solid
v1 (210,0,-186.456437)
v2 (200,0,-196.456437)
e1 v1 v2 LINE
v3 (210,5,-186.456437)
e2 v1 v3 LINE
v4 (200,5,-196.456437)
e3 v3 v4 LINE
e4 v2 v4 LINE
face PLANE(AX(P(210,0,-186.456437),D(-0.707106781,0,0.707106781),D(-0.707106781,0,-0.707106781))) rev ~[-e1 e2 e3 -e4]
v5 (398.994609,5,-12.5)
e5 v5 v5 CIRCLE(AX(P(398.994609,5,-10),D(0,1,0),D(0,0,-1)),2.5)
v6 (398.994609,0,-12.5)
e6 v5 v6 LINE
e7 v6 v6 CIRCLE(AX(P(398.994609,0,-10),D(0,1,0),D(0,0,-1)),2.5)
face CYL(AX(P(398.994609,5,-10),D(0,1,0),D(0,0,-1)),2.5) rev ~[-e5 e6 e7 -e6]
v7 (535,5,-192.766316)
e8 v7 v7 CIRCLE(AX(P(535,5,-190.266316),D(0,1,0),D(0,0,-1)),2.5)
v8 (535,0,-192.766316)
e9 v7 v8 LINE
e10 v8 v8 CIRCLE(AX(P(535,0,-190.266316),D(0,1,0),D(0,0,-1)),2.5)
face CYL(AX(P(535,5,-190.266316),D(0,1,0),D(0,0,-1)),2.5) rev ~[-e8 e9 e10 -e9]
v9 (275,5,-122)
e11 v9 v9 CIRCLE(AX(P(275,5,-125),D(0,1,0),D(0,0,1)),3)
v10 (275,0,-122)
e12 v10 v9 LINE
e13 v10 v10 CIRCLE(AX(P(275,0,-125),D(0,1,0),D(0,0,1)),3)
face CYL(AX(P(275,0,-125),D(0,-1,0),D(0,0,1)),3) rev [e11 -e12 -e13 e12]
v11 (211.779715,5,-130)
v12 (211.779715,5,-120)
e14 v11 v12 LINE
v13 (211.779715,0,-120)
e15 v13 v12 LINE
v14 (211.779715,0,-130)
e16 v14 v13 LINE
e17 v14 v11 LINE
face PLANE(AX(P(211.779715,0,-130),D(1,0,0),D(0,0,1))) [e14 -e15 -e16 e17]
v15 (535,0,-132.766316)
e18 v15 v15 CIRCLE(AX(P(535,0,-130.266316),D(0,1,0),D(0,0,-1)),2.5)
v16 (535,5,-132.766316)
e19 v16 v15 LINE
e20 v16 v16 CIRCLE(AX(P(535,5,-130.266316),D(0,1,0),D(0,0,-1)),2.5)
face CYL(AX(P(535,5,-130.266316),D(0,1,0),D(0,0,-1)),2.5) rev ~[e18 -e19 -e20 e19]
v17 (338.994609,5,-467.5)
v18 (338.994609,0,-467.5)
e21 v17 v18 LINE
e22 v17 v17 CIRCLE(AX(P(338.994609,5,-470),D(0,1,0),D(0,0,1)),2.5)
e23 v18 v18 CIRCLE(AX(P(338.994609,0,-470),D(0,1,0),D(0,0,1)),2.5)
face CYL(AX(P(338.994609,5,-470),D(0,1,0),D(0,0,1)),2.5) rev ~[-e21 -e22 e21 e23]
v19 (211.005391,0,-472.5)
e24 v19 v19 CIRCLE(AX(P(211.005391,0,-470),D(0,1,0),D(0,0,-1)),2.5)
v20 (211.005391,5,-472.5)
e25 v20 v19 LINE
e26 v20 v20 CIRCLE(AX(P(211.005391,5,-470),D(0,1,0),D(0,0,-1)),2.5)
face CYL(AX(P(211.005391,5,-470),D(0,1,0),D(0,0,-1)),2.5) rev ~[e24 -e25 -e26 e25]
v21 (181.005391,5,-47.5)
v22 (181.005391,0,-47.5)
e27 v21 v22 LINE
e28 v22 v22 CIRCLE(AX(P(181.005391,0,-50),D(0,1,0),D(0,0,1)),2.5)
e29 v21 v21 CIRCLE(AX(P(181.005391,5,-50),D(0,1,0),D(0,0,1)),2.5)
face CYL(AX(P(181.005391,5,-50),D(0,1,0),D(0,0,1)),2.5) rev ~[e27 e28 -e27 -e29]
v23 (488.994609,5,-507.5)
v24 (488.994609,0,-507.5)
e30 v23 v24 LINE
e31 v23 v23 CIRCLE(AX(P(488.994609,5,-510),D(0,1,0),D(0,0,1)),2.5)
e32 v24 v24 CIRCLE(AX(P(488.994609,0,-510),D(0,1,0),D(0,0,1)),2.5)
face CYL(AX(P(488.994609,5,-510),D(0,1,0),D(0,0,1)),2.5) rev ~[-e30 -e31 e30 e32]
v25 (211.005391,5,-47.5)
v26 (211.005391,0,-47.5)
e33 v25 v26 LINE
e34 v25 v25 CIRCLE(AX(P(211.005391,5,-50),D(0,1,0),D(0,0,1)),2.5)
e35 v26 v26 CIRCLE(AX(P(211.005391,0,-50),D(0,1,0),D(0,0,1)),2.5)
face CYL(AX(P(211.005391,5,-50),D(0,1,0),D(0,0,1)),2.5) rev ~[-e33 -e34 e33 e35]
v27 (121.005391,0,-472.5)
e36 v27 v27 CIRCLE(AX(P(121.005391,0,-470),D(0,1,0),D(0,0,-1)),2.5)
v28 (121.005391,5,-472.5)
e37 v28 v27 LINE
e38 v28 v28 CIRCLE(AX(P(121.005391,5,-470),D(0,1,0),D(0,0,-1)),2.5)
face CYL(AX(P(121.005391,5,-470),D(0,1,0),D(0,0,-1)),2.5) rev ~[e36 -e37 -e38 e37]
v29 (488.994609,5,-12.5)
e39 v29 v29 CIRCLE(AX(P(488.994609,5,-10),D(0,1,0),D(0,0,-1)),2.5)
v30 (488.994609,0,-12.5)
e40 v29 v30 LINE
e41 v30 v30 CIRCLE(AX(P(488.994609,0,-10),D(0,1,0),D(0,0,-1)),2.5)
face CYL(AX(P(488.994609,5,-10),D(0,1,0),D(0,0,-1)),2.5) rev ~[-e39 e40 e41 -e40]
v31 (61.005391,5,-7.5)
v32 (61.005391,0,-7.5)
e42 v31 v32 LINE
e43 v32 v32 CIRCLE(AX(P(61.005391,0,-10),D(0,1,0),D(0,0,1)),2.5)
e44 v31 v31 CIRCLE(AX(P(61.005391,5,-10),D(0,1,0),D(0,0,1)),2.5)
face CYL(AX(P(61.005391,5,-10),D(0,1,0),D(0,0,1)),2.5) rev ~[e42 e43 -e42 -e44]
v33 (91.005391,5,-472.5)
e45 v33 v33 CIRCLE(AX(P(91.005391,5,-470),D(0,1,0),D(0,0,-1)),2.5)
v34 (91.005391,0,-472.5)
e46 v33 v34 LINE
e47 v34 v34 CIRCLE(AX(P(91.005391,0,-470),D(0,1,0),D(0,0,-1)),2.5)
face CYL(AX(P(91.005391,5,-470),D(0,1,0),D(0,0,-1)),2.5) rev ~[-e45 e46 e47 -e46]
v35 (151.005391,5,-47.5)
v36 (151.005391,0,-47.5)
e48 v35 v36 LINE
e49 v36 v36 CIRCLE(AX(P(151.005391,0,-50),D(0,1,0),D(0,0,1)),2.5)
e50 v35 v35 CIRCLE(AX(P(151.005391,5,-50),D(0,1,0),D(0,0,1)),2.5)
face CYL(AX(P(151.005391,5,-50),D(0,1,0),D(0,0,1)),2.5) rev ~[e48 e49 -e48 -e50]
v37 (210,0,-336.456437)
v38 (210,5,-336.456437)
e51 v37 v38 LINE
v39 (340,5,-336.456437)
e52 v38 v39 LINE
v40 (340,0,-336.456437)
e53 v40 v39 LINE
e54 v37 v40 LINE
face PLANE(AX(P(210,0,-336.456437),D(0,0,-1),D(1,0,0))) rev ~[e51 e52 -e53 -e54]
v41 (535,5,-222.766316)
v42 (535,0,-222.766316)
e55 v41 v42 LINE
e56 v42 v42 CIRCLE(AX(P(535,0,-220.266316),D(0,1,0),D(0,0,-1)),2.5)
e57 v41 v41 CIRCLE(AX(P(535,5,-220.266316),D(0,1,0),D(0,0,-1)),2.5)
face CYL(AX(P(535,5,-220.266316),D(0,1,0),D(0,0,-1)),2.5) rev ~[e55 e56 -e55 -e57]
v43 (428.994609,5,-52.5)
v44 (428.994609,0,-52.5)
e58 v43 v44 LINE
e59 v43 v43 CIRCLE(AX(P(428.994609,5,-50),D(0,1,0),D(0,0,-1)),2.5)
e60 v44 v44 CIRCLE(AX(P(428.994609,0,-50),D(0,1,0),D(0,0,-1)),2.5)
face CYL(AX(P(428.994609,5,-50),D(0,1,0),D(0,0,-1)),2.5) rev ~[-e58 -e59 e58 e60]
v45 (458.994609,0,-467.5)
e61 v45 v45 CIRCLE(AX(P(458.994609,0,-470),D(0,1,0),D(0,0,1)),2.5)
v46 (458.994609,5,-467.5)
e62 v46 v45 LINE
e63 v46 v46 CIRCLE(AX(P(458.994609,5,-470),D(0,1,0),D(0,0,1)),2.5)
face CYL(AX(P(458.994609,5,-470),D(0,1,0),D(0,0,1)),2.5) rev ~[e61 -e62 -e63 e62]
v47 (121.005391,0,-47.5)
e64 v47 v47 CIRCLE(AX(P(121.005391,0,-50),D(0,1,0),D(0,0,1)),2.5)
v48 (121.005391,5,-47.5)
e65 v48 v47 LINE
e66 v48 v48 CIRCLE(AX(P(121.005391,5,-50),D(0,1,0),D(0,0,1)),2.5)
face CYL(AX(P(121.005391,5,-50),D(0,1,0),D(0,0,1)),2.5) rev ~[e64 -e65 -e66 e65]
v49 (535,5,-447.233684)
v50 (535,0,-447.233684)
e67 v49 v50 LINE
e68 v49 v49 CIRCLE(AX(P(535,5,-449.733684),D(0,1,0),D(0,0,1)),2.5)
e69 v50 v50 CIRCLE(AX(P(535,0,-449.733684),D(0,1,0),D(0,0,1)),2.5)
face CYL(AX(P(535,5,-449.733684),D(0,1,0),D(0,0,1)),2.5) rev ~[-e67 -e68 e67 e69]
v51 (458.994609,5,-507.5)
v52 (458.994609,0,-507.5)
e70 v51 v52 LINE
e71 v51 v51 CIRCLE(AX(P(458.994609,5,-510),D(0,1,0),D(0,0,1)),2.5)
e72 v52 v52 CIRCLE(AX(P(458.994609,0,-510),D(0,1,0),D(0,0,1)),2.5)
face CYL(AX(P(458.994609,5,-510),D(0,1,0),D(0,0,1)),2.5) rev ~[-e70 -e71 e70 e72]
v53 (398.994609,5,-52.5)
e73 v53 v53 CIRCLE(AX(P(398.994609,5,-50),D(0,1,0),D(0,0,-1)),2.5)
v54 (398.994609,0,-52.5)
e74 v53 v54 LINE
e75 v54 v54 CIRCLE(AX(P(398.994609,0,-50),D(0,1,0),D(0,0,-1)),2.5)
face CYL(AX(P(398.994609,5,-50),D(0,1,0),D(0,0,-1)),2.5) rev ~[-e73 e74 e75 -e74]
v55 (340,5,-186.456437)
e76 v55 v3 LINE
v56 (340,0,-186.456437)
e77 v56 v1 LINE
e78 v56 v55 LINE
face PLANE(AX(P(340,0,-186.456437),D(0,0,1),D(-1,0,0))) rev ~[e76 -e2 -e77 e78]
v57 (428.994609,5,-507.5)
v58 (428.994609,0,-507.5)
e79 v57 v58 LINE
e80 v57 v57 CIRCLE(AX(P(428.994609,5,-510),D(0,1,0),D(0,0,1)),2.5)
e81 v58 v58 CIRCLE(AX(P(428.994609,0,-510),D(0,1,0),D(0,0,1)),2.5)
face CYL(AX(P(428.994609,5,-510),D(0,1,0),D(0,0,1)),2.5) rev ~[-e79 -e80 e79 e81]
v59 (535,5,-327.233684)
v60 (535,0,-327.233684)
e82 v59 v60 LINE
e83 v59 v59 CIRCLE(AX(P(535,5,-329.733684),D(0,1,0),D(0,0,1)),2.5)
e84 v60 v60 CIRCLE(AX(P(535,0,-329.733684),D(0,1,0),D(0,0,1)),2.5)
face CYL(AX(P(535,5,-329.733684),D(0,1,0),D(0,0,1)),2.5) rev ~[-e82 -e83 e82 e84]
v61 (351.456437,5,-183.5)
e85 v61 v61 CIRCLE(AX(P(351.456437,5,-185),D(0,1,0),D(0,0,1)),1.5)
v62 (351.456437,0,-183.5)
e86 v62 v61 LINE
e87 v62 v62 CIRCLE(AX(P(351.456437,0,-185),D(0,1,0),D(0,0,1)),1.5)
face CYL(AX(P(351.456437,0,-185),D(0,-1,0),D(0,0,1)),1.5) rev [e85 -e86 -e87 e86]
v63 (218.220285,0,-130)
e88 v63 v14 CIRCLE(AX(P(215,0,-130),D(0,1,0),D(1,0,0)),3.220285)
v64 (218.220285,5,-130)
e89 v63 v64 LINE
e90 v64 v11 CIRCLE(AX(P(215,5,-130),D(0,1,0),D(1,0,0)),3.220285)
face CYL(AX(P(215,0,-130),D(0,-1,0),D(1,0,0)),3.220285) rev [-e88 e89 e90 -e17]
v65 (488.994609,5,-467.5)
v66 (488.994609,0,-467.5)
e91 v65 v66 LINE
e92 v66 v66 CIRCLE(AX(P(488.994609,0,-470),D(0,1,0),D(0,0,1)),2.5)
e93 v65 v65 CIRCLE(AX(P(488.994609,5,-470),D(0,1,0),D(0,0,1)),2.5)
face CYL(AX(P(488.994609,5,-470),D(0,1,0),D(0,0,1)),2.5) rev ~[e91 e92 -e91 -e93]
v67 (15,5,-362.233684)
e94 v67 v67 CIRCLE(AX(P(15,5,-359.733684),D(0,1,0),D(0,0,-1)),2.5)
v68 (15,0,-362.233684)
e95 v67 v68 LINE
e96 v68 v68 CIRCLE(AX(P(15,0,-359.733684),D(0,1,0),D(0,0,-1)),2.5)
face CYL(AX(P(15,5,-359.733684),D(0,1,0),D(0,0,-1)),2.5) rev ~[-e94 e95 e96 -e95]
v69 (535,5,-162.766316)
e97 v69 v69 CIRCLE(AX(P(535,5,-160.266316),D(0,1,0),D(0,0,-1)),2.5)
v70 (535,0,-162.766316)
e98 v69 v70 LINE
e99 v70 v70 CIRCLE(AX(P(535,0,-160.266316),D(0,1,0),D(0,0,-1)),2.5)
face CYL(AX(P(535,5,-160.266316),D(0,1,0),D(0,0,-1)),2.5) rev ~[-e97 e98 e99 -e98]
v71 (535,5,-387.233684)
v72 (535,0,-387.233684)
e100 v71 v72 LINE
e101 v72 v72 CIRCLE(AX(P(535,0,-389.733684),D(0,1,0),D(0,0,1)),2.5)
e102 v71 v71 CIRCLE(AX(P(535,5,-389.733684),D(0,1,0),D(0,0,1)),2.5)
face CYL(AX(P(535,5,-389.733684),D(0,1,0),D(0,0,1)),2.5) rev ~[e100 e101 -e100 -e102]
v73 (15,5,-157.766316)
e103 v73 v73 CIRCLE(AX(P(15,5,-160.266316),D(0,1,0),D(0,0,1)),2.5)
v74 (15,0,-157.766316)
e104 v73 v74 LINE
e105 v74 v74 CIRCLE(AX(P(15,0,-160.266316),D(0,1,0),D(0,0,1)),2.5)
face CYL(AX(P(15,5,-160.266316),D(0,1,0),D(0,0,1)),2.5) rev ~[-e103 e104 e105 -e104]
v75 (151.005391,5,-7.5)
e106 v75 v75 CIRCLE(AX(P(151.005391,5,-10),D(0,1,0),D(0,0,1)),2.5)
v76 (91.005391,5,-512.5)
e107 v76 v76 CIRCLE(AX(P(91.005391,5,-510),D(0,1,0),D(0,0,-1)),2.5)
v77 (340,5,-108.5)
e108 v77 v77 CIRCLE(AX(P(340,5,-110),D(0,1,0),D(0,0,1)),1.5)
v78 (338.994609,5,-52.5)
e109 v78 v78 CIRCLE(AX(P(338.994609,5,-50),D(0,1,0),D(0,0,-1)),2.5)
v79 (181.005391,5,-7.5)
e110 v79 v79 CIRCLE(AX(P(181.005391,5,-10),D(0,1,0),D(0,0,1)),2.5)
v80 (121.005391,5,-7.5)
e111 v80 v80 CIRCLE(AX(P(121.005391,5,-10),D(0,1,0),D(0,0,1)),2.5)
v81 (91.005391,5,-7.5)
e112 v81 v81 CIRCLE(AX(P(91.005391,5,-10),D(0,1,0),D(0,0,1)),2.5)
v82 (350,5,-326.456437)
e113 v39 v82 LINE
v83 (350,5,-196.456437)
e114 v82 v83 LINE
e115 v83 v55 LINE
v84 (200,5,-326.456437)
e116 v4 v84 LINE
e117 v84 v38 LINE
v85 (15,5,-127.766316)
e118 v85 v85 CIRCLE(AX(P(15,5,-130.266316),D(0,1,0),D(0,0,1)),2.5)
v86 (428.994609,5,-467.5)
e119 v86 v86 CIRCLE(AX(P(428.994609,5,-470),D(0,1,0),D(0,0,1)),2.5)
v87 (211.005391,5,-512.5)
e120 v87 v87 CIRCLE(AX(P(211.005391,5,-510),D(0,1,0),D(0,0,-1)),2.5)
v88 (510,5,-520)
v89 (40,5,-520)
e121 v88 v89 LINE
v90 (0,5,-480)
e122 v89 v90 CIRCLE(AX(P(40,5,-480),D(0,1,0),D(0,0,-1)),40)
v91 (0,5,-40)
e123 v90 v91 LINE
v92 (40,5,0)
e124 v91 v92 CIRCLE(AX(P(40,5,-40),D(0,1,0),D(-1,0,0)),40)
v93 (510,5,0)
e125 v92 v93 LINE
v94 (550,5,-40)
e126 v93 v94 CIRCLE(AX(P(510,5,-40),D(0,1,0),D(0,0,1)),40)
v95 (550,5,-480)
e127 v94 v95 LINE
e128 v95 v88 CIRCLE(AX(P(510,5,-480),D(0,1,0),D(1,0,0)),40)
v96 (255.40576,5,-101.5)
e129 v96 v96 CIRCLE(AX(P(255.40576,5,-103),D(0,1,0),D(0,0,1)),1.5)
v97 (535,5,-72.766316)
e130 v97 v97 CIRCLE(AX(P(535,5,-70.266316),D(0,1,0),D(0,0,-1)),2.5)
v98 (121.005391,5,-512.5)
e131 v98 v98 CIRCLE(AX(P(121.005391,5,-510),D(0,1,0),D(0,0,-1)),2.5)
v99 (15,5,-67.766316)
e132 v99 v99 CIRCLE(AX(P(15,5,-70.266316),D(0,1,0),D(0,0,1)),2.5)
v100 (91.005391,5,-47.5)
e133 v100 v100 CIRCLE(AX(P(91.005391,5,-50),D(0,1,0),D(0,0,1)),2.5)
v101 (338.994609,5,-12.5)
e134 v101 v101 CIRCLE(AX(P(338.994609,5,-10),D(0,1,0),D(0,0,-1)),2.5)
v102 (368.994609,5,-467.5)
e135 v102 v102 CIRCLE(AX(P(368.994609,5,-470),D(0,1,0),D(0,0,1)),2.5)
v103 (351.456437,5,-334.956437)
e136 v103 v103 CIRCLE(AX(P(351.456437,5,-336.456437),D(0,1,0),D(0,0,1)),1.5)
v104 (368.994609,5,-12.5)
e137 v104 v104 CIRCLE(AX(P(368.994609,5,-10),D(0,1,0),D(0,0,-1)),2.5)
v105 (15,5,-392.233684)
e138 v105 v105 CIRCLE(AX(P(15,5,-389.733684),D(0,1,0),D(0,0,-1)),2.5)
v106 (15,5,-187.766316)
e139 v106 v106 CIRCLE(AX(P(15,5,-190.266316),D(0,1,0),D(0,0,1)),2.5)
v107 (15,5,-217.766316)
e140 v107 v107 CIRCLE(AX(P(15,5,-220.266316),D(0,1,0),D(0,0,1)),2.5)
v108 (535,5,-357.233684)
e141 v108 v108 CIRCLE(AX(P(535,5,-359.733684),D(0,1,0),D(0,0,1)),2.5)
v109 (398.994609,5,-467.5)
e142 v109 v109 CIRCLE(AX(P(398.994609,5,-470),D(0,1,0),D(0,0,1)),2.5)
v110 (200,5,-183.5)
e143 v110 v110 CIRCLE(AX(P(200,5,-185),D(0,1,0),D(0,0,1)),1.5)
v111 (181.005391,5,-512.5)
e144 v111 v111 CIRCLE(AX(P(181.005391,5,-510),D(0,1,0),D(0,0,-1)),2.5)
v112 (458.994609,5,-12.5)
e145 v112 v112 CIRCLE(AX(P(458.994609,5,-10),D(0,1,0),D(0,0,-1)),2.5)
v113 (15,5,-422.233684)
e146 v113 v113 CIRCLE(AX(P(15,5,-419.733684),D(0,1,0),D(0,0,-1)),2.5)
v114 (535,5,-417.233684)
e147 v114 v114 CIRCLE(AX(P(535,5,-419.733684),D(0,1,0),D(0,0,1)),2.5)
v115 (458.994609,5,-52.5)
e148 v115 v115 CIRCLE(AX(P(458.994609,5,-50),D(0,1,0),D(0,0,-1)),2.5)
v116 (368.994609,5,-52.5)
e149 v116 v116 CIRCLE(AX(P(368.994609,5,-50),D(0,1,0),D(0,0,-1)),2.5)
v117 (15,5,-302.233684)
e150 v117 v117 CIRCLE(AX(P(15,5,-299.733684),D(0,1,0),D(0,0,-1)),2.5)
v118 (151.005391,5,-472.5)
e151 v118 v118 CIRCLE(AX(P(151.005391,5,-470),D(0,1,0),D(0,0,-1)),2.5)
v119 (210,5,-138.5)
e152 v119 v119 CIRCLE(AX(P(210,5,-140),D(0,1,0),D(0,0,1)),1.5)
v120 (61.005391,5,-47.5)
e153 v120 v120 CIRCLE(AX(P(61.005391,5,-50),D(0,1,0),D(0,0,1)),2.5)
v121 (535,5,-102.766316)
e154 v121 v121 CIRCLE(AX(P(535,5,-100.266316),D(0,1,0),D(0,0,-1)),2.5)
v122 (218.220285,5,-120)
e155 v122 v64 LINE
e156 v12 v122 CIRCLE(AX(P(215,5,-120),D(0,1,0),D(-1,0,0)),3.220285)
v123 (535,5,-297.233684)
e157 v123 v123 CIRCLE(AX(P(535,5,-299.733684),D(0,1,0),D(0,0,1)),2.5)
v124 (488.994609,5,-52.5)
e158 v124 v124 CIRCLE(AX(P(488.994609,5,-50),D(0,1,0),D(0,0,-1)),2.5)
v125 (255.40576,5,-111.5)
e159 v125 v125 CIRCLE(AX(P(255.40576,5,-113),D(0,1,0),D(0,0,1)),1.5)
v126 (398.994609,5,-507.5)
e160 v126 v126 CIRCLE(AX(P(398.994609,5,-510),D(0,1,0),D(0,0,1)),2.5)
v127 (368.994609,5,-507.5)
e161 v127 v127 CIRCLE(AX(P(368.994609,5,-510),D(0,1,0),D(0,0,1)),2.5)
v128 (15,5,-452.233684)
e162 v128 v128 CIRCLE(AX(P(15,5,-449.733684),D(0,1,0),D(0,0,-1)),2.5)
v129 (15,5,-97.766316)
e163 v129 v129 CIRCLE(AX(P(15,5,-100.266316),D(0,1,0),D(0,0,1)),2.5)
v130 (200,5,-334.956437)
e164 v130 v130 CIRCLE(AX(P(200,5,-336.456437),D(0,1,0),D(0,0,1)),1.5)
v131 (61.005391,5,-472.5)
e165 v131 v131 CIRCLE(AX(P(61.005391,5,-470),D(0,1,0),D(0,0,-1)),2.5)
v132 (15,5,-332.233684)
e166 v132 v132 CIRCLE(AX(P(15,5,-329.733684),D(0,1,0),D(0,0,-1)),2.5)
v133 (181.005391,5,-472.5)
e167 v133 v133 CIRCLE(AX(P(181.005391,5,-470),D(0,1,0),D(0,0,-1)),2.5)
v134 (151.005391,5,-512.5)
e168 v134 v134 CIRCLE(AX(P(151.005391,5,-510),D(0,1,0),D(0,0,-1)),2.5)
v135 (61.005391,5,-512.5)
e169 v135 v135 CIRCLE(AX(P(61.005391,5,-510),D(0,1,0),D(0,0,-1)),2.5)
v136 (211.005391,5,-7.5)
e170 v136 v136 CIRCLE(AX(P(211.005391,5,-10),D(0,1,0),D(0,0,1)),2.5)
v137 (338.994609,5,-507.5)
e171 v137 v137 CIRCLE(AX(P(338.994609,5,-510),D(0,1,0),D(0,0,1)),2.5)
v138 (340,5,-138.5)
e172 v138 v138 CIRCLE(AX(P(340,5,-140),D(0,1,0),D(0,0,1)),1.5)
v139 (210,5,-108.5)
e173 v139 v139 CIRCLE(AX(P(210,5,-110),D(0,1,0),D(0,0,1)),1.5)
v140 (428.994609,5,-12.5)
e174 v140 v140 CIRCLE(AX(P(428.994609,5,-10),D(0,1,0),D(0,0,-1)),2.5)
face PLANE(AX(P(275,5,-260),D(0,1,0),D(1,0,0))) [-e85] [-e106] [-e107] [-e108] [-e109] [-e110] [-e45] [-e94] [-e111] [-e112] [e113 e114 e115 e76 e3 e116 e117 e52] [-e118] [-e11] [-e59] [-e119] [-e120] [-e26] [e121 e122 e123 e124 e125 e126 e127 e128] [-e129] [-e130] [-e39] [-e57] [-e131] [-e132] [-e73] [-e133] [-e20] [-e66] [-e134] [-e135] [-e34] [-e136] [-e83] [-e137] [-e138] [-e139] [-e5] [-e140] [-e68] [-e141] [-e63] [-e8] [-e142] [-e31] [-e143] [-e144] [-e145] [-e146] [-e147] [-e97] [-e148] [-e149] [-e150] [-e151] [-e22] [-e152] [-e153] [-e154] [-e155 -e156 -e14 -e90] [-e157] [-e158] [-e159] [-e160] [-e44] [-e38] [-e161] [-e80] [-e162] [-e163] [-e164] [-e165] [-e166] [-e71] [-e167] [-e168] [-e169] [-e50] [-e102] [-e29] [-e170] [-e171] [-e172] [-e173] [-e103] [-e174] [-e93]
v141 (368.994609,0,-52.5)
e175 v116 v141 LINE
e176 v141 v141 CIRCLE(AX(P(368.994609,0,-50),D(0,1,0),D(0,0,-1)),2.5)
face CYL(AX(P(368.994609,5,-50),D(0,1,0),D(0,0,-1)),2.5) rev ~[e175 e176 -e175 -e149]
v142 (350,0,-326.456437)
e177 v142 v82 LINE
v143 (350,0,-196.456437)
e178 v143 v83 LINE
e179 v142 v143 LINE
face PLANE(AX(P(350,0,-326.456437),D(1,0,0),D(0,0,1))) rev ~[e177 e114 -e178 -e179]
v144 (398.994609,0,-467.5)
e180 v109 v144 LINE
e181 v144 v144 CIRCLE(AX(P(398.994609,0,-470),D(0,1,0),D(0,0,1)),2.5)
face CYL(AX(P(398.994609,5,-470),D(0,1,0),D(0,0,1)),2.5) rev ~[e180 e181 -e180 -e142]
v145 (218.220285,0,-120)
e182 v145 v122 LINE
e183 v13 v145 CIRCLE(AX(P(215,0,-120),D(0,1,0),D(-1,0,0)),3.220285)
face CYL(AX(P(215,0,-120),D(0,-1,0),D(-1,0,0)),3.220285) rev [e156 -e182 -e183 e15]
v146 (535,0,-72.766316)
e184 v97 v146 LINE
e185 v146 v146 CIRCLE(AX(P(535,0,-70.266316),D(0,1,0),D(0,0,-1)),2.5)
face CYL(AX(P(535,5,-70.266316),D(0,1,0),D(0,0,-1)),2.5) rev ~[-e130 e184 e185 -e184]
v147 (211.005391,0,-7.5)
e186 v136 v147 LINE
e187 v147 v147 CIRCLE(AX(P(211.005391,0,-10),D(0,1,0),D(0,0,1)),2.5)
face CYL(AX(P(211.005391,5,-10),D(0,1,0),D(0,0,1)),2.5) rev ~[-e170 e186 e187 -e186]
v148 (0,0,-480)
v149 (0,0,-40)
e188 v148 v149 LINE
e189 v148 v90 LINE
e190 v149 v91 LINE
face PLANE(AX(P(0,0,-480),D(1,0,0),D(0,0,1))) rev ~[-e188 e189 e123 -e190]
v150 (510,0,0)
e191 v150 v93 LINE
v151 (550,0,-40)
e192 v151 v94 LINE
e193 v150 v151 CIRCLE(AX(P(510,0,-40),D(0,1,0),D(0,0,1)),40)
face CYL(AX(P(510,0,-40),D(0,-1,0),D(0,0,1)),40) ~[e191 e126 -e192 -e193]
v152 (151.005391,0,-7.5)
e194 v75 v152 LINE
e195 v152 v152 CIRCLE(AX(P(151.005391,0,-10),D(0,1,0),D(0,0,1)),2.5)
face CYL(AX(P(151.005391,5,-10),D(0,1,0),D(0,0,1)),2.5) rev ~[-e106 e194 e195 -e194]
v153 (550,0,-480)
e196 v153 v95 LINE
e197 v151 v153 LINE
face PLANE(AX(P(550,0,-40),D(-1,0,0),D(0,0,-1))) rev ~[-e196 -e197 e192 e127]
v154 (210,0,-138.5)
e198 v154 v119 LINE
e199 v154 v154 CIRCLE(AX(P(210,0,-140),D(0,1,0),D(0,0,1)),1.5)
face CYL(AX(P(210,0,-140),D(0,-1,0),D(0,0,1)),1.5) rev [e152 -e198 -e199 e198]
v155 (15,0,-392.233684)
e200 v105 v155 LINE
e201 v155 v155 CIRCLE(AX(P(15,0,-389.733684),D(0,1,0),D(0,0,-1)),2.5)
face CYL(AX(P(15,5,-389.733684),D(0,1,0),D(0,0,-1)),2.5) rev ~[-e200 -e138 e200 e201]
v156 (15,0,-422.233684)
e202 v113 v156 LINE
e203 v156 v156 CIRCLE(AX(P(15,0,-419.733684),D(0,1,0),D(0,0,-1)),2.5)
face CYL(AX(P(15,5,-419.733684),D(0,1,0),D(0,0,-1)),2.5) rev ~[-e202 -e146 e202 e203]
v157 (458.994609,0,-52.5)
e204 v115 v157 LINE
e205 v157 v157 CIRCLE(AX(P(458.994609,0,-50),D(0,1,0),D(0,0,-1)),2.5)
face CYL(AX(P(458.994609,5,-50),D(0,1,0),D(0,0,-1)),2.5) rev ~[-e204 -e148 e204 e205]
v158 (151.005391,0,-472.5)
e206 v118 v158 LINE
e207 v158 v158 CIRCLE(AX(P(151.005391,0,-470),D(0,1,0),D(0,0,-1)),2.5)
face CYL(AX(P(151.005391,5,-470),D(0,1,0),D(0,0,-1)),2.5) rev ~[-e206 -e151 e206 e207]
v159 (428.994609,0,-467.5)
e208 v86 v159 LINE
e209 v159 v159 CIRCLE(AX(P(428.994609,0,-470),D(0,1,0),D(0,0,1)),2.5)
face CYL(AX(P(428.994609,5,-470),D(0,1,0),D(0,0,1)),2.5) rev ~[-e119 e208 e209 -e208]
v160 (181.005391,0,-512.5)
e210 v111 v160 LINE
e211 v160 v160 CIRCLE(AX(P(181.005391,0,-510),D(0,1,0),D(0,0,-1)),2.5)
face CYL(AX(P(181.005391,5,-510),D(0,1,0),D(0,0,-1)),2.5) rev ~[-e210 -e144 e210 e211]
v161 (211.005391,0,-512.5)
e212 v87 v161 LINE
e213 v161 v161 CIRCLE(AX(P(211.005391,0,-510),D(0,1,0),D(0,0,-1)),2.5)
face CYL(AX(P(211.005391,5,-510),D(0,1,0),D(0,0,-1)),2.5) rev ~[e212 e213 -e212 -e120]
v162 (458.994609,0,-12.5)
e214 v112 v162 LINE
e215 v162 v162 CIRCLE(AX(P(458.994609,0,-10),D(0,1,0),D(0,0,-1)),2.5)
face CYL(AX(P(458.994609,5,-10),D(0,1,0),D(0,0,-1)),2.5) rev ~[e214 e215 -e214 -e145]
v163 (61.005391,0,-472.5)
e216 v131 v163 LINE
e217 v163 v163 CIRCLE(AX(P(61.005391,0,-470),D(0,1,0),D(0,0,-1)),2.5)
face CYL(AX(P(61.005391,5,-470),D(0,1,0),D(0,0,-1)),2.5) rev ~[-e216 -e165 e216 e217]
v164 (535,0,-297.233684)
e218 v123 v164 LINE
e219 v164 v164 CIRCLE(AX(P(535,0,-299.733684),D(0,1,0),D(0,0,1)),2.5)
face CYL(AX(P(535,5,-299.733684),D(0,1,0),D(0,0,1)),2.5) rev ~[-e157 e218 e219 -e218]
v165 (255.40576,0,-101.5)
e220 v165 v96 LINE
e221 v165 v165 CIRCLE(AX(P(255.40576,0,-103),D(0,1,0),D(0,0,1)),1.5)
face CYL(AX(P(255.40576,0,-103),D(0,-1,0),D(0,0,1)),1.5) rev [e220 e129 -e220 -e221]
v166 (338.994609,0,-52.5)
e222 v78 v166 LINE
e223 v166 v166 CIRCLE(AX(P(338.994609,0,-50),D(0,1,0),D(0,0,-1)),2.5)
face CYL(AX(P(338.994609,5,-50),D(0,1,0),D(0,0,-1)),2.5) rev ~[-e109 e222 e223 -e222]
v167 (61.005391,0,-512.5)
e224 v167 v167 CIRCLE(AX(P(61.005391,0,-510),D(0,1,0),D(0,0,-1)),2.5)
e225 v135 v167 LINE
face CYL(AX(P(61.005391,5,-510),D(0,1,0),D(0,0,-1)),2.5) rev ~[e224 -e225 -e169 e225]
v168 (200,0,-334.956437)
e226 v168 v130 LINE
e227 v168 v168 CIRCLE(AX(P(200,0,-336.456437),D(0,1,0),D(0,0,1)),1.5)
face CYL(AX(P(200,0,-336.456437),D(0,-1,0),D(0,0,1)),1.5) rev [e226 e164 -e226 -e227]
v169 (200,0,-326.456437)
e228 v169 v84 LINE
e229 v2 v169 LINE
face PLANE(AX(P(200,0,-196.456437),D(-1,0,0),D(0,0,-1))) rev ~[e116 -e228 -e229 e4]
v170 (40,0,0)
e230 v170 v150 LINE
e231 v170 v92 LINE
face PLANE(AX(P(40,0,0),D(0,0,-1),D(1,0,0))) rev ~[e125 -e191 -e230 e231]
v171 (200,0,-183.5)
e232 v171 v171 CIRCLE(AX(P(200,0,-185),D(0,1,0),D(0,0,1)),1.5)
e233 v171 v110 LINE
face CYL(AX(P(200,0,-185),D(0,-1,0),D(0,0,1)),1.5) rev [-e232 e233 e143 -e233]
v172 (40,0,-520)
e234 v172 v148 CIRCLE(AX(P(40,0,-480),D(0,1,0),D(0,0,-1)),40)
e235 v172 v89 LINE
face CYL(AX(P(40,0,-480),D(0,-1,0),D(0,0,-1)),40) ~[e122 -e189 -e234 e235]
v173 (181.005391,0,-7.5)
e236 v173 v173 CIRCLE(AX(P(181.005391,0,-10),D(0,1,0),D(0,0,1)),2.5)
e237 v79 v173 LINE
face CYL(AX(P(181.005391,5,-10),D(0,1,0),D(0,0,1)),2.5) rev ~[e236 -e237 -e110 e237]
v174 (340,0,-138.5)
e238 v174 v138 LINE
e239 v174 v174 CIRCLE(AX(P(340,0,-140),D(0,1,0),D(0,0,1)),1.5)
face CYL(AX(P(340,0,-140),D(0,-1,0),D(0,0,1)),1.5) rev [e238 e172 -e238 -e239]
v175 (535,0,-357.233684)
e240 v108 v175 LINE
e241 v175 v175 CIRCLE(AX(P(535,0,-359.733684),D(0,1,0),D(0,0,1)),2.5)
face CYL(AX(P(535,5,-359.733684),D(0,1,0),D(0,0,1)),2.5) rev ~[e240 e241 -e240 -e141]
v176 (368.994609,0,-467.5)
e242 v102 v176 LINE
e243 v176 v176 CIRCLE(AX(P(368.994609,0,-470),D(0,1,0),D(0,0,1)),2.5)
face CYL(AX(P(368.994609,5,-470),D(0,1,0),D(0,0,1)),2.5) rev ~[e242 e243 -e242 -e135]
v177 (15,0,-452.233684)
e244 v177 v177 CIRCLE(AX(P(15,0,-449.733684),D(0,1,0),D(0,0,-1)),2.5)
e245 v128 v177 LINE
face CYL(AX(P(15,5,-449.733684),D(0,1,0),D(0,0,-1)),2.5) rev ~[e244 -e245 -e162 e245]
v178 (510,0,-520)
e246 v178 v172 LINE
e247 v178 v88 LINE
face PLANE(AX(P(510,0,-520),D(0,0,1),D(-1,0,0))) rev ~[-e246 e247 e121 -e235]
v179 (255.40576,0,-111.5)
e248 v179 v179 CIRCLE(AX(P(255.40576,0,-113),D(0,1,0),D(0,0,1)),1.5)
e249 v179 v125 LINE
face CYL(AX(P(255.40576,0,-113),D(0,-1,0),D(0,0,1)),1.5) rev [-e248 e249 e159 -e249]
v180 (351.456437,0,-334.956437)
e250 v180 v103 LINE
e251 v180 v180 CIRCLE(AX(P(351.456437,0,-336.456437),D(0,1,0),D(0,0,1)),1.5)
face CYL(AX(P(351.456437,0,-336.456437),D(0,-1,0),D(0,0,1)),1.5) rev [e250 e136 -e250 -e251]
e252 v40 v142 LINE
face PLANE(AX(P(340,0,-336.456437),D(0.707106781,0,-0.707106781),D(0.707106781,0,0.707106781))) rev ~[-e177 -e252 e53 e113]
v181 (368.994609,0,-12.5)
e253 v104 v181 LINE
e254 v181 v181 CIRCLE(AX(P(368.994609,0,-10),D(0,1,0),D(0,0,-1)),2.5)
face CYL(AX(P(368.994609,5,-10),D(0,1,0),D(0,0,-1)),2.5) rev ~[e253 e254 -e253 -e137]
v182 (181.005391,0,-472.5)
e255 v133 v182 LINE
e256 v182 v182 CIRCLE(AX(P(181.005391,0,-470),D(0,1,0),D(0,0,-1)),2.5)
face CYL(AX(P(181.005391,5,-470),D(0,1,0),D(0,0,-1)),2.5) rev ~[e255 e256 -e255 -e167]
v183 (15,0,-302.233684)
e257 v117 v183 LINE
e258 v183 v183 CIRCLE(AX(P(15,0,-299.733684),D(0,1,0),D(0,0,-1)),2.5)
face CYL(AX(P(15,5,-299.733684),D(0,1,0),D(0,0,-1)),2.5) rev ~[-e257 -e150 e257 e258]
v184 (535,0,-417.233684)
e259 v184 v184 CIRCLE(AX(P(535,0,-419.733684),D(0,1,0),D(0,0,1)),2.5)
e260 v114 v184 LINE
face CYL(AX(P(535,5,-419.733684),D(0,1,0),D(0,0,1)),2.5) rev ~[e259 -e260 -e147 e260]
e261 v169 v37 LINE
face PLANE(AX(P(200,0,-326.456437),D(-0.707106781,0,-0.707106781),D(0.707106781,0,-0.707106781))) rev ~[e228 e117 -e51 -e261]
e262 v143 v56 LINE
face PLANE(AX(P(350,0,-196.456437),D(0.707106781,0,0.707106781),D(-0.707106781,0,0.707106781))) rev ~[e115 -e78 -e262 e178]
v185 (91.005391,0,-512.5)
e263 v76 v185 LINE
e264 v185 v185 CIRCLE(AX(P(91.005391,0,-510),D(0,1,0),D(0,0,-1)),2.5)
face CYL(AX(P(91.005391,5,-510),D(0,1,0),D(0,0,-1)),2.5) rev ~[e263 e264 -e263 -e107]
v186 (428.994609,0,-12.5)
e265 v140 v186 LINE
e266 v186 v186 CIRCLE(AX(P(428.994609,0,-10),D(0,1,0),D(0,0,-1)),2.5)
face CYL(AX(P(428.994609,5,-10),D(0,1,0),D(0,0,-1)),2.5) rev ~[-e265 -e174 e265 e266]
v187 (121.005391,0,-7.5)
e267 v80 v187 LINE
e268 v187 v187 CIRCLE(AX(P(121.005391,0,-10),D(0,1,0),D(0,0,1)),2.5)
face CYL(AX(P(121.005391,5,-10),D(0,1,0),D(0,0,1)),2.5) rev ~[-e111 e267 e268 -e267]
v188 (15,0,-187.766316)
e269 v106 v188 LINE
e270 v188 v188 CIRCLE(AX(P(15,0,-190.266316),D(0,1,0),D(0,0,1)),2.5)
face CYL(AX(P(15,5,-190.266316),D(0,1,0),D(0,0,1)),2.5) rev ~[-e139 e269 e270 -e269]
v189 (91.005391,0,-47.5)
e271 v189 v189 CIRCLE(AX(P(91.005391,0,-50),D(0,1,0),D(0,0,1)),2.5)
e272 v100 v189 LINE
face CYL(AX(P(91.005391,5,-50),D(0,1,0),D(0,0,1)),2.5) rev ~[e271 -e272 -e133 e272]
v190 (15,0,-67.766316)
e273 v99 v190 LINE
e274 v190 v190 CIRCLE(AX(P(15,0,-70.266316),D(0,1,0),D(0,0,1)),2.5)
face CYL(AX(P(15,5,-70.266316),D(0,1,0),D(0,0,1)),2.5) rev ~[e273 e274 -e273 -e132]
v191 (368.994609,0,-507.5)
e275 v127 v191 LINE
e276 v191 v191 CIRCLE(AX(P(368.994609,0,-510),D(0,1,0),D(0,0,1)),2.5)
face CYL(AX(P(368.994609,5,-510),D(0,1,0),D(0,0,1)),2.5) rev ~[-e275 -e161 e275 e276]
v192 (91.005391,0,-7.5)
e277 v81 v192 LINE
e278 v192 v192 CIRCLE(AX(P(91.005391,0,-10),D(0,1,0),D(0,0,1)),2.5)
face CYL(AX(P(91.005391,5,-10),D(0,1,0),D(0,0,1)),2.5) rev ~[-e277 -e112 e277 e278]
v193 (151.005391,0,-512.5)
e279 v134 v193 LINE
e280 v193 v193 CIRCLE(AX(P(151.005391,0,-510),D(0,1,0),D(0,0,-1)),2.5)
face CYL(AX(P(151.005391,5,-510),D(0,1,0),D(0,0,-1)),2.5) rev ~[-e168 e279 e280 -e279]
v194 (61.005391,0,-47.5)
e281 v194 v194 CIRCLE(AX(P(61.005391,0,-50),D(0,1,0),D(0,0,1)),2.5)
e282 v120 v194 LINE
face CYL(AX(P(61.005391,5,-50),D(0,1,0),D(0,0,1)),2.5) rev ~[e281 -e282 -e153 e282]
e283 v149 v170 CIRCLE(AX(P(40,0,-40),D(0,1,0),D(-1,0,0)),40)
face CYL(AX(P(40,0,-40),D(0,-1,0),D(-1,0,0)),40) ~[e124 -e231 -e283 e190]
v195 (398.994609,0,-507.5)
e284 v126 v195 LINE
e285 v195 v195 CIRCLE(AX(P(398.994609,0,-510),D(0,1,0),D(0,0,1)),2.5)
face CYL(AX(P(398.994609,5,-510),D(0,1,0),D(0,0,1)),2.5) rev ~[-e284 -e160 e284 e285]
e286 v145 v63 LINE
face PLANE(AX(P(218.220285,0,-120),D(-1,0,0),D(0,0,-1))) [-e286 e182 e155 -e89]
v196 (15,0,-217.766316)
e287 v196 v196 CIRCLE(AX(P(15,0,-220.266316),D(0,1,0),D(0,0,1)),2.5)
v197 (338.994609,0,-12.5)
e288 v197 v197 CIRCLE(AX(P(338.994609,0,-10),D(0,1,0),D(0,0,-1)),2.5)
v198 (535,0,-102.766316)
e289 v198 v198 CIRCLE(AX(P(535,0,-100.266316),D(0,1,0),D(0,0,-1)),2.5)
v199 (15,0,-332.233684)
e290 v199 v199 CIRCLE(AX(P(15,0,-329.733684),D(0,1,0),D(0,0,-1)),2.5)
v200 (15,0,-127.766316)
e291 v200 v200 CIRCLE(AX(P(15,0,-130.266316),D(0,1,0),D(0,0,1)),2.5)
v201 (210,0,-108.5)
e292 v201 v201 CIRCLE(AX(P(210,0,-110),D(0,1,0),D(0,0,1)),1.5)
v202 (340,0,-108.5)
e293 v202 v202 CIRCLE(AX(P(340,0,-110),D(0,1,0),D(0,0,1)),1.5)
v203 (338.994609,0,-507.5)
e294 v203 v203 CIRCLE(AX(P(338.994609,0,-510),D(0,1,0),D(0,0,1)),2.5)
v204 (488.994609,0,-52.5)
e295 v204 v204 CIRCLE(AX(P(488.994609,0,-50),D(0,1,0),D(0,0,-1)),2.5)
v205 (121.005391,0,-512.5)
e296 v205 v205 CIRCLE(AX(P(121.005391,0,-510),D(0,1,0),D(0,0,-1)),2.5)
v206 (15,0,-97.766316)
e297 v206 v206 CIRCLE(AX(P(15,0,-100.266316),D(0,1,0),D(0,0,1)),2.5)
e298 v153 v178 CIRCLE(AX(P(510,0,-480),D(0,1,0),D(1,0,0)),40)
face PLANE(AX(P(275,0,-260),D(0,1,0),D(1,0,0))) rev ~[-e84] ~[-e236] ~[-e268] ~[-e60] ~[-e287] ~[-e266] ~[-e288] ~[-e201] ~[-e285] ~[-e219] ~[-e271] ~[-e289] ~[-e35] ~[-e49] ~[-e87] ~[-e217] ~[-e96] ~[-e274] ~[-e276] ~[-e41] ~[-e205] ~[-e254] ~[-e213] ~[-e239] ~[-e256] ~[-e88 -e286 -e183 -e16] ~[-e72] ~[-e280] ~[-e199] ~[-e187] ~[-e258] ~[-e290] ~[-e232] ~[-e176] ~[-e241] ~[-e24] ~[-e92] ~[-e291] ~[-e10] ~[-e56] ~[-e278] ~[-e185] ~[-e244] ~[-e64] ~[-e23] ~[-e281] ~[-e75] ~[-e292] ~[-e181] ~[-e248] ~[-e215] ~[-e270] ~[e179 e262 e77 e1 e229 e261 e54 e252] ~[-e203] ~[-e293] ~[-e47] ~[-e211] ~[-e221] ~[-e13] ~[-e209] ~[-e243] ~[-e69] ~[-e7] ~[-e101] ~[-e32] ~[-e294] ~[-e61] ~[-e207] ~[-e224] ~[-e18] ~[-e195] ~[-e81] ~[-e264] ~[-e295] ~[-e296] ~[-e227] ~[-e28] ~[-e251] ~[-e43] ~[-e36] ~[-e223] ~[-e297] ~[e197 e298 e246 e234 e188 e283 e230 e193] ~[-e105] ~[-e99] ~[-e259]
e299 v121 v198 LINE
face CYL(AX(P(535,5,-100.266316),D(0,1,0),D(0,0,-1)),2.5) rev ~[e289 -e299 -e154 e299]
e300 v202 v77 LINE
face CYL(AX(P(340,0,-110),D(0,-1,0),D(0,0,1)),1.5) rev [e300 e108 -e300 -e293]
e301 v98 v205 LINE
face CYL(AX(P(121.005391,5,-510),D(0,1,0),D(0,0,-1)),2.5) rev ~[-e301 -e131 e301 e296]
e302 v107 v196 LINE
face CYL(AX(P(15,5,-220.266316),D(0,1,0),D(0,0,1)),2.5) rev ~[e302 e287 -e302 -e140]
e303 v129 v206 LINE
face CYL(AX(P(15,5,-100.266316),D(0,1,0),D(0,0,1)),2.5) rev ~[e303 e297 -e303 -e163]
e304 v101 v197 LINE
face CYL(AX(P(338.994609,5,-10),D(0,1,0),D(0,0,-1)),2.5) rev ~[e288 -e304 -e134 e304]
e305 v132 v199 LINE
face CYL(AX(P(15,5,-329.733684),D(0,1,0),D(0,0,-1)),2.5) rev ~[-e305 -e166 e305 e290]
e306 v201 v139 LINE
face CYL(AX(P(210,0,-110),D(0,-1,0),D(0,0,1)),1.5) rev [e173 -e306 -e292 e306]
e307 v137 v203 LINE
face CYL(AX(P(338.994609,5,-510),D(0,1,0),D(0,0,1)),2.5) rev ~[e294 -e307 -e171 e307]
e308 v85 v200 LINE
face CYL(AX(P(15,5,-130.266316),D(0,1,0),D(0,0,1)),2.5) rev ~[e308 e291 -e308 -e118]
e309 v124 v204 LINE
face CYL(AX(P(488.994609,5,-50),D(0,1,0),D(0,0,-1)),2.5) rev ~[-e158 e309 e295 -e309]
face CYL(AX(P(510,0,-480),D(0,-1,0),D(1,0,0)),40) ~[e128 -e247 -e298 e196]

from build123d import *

# Parameters (mm, degrees)
SKETCH1_R           = 2.999999999
SKETCH1_R_2         = 1.5
SKETCH1_R_3         = 1.499999999
BOSS_EXTRUDE1_DEPTH = 5
SKETCH4_R           = 2.5
CUT_EXTRUDE1_DEPTH  = 757.918093325


with BuildPart() as part:
    # Sketch1 → Boss-Extrude1 (new body)
    with BuildSketch(Plane(origin=(0, 0, 0), x_dir=(1, 0, 0), z_dir=(0, 1, 0))):
        with BuildLine():
            Line((40, 0), (510.000000002, 0))
            ThreePointArc((510.000000002, 0), (538.28427125, 11.715728753), (550.000000002, 40))
            Line((550.000000002, 40), (550.000000002, 480))
            ThreePointArc((550.000000002, 480), (538.28427125, 508.284271247), (510.000000002, 520))
            Line((510.000000002, 520), (40, 520))
            ThreePointArc((40, 520), (11.715728753, 508.284271247), (0, 480))
            Line((0, 480), (0, 40))
            ThreePointArc((0, 40), (11.715728753, 11.715728753), (40, 0))
        make_face()
        with Locations(Location((275.000000001, 125, 0), (0, 0, 270))):
            Circle(SKETCH1_R, mode=Mode.SUBTRACT)
        with Locations(Location((200.000000001, 336.45643718, 0), (0, 0, 270))):
            Circle(SKETCH1_R_2, mode=Mode.SUBTRACT)
        with Locations(Location((351.456437186, 336.45643718, 0), (0, 0, 270))):
            Circle(SKETCH1_R_2, mode=Mode.SUBTRACT)
        with Locations(Location((351.456437186, 184.999999996, 0), (0, 0, 270))):
            Circle(SKETCH1_R_2, mode=Mode.SUBTRACT)
        with Locations(Location((200.000000001, 184.999999996, 0), (0, 0, 270))):
            Circle(SKETCH1_R_2, mode=Mode.SUBTRACT)
        with Locations(Location((255.405759863, 113, 0), (0, 0, 270))):
            Circle(SKETCH1_R_2, mode=Mode.SUBTRACT)
        with Locations(Location((210.000000001, 110, 0), (0, 0, 270))):
            Circle(SKETCH1_R_3, mode=Mode.SUBTRACT)
        with Locations(Location((255.405759863, 103, 0), (0, 0, 270))):
            Circle(SKETCH1_R_2, mode=Mode.SUBTRACT)
        with Locations(Location((340.000000001, 140, 0), (0, 0, 270))):
            Circle(SKETCH1_R_3, mode=Mode.SUBTRACT)
        with Locations(Location((210.000000001, 140, 0), (0, 0, 270))):
            Circle(SKETCH1_R_3, mode=Mode.SUBTRACT)
        with Locations(Location((340.000000001, 110, 0), (0, 0, 270))):
            Circle(SKETCH1_R_3, mode=Mode.SUBTRACT)
        Polygon((200.000000001, 326.45643718), (210.000000001, 336.45643718), (340.000000001, 336.45643718), (350.000000001, 326.45643718), (350.000000001, 196.45643718), (340.000000001, 186.45643718), (210.000000001, 186.45643718), (200.000000001, 196.45643718), align=None, mode=Mode.SUBTRACT)
        with BuildLine():
            Line((218.220285237, 120), (218.220285237, 130))
            ThreePointArc((218.220285237, 130), (215.000000001, 133.220285235), (211.779714766, 130))
            Line((211.779714766, 130), (211.779714766, 120))
            ThreePointArc((211.779714766, 120), (215.000000001, 116.779714765), (218.220285237, 120))
        make_face(mode=Mode.SUBTRACT)
    extrude(amount=BOSS_EXTRUDE1_DEPTH)

    # Sketch4 → Cut-Extrude1 (cut, through all)
    with BuildSketch(Plane(origin=(0, 5, 0), x_dir=(1, 0, 0), z_dir=(0, 1, 0))):
        with Locations(Location((535, 70.266316246, 0), (0, 0, 90))):
            Circle(SKETCH4_R)
        with Locations(Location((488.994609259, 10, 0), (0, 0, 90))):
            Circle(SKETCH4_R)
        with Locations(Location((488.994609259, 50, 0), (0, 0, 90))):
            Circle(SKETCH4_R)
        with Locations(Location((535, 100.266316246, 0), (0, 0, 90))):
            Circle(SKETCH4_R)
        with Locations(Location((535, 130.266316246, 0), (0, 0, 90))):
            Circle(SKETCH4_R)
        with Locations(Location((535, 160.266316246, 0), (0, 0, 90))):
            Circle(SKETCH4_R)
        with Locations(Location((535, 190.266316246, 0), (0, 0, 90))):
            Circle(SKETCH4_R)
        with Locations(Location((535, 220.266316246, 0), (0, 0, 90))):
            Circle(SKETCH4_R)
        with Locations(Location((458.994609259, 50, 0), (0, 0, 90))):
            Circle(SKETCH4_R)
        with Locations(Location((458.994609259, 10, 0), (0, 0, 90))):
            Circle(SKETCH4_R)
        with Locations(Location((428.994609259, 50, 0), (0, 0, 90))):
            Circle(SKETCH4_R)
        with Locations(Location((428.994609259, 10, 0), (0, 0, 90))):
            Circle(SKETCH4_R)
        with Locations(Location((398.994609259, 50, 0), (0, 0, 90))):
            Circle(SKETCH4_R)
        with Locations(Location((398.994609259, 10, 0), (0, 0, 90))):
            Circle(SKETCH4_R)
        with Locations(Location((368.994609259, 50, 0), (0, 0, 90))):
            Circle(SKETCH4_R)
        with Locations(Location((368.994609259, 10, 0), (0, 0, 90))):
            Circle(SKETCH4_R)
        with Locations(Location((338.994609259, 50, 0), (0, 0, 90))):
            Circle(SKETCH4_R)
        with Locations(Location((338.994609259, 10, 0), (0, 0, 90))):
            Circle(SKETCH4_R)
        with Locations(Location((338.994609259, 510, 0), (0, 0, 270))):
            Circle(SKETCH4_R)
        with Locations(Location((338.994609259, 470, 0), (0, 0, 270))):
            Circle(SKETCH4_R)
        with Locations(Location((368.994609259, 510, 0), (0, 0, 270))):
            Circle(SKETCH4_R)
        with Locations(Location((368.994609259, 470, 0), (0, 0, 270))):
            Circle(SKETCH4_R)
        with Locations(Location((398.994609259, 510, 0), (0, 0, 270))):
            Circle(SKETCH4_R)
        with Locations(Location((398.994609259, 470, 0), (0, 0, 270))):
            Circle(SKETCH4_R)
        with Locations(Location((428.994609259, 510, 0), (0, 0, 270))):
            Circle(SKETCH4_R)
        with Locations(Location((428.994609259, 470, 0), (0, 0, 270))):
            Circle(SKETCH4_R)
        with Locations(Location((458.994609259, 510, 0), (0, 0, 270))):
            Circle(SKETCH4_R)
        with Locations(Location((458.994609259, 470, 0), (0, 0, 270))):
            Circle(SKETCH4_R)
        with Locations(Location((535, 299.733683754, 0), (0, 0, 270))):
            Circle(SKETCH4_R)
        with Locations(Location((535, 329.733683754, 0), (0, 0, 270))):
            Circle(SKETCH4_R)
        with Locations(Location((535, 359.733683754, 0), (0, 0, 270))):
            Circle(SKETCH4_R)
        with Locations(Location((535, 389.733683754, 0), (0, 0, 270))):
            Circle(SKETCH4_R)
        with Locations(Location((535, 419.733683754, 0), (0, 0, 270))):
            Circle(SKETCH4_R)
        with Locations(Location((488.994609259, 470, 0), (0, 0, 270))):
            Circle(SKETCH4_R)
        with Locations(Location((488.994609259, 510, 0), (0, 0, 270))):
            Circle(SKETCH4_R)
        with Locations(Location((535, 449.733683754, 0), (0, 0, 270))):
            Circle(SKETCH4_R)
        with Locations(Location((211.005390743, 10, 0), (0, 0, 270))):
            Circle(SKETCH4_R)
        with Locations(Location((211.005390743, 50, 0), (0, 0, 270))):
            Circle(SKETCH4_R)
        with Locations(Location((181.005390743, 10, 0), (0, 0, 270))):
            Circle(SKETCH4_R)
        with Locations(Location((181.005390743, 50, 0), (0, 0, 270))):
            Circle(SKETCH4_R)
        with Locations(Location((151.005390743, 10, 0), (0, 0, 270))):
            Circle(SKETCH4_R)
        with Locations(Location((151.005390743, 50, 0), (0, 0, 270))):
            Circle(SKETCH4_R)
        with Locations(Location((121.005390743, 10, 0), (0, 0, 270))):
            Circle(SKETCH4_R)
        with Locations(Location((121.005390743, 50, 0), (0, 0, 270))):
            Circle(SKETCH4_R)
        with Locations(Location((91.005390743, 10, 0), (0, 0, 270))):
            Circle(SKETCH4_R)
        with Locations(Location((91.005390743, 50, 0), (0, 0, 270))):
            Circle(SKETCH4_R)
        with Locations(Location((15.000000002, 220.266316246, 0), (0, 0, 270))):
            Circle(SKETCH4_R)
        with Locations(Location((15.000000002, 190.266316246, 0), (0, 0, 270))):
            Circle(SKETCH4_R)
        with Locations(Location((15.000000002, 160.266316246, 0), (0, 0, 270))):
            Circle(SKETCH4_R)
        with Locations(Location((15.000000002, 130.266316246, 0), (0, 0, 270))):
            Circle(SKETCH4_R)
        with Locations(Location((15.000000002, 100.266316246, 0), (0, 0, 270))):
            Circle(SKETCH4_R)
        with Locations(Location((61.005390743, 50, 0), (0, 0, 270))):
            Circle(SKETCH4_R)
        with Locations(Location((61.005390743, 10, 0), (0, 0, 270))):
            Circle(SKETCH4_R)
        with Locations(Location((15.000000002, 70.266316246, 0), (0, 0, 270))):
            Circle(SKETCH4_R)
        with Locations(Location((15.000000002, 449.733683754, 0), (0, 0, 90))):
            Circle(SKETCH4_R)
        with Locations(Location((61.005390743, 510, 0), (0, 0, 90))):
            Circle(SKETCH4_R)
        with Locations(Location((61.005390743, 470, 0), (0, 0, 90))):
            Circle(SKETCH4_R)
        with Locations(Location((15.000000002, 419.733683754, 0), (0, 0, 90))):
            Circle(SKETCH4_R)
        with Locations(Location((15.000000002, 389.733683754, 0), (0, 0, 90))):
            Circle(SKETCH4_R)
        with Locations(Location((15.000000002, 359.733683754, 0), (0, 0, 90))):
            Circle(SKETCH4_R)
        with Locations(Location((15.000000002, 329.733683754, 0), (0, 0, 90))):
            Circle(SKETCH4_R)
        with Locations(Location((15.000000002, 299.733683754, 0), (0, 0, 90))):
            Circle(SKETCH4_R)
        with Locations(Location((91.005390743, 470, 0), (0, 0, 90))):
            Circle(SKETCH4_R)
        with Locations(Location((91.005390743, 510, 0), (0, 0, 90))):
            Circle(SKETCH4_R)
        with Locations(Location((121.005390743, 470, 0), (0, 0, 90))):
            Circle(SKETCH4_R)
        with Locations(Location((121.005390743, 510, 0), (0, 0, 90))):
            Circle(SKETCH4_R)
        with Locations(Location((151.005390743, 470, 0), (0, 0, 90))):
            Circle(SKETCH4_R)
        with Locations(Location((151.005390743, 510, 0), (0, 0, 90))):
            Circle(SKETCH4_R)
        with Locations(Location((181.005390743, 470, 0), (0, 0, 90))):
            Circle(SKETCH4_R)
        with Locations(Location((181.005390743, 510, 0), (0, 0, 90))):
            Circle(SKETCH4_R)
        with Locations(Location((211.005390743, 470, 0), (0, 0, 90))):
            Circle(SKETCH4_R)
        with Locations(Location((211.005390743, 510, 0), (0, 0, 90))):
            Circle(SKETCH4_R)
    extrude(amount=-CUT_EXTRUDE1_DEPTH, mode=Mode.SUBTRACT)


solid = part.part
